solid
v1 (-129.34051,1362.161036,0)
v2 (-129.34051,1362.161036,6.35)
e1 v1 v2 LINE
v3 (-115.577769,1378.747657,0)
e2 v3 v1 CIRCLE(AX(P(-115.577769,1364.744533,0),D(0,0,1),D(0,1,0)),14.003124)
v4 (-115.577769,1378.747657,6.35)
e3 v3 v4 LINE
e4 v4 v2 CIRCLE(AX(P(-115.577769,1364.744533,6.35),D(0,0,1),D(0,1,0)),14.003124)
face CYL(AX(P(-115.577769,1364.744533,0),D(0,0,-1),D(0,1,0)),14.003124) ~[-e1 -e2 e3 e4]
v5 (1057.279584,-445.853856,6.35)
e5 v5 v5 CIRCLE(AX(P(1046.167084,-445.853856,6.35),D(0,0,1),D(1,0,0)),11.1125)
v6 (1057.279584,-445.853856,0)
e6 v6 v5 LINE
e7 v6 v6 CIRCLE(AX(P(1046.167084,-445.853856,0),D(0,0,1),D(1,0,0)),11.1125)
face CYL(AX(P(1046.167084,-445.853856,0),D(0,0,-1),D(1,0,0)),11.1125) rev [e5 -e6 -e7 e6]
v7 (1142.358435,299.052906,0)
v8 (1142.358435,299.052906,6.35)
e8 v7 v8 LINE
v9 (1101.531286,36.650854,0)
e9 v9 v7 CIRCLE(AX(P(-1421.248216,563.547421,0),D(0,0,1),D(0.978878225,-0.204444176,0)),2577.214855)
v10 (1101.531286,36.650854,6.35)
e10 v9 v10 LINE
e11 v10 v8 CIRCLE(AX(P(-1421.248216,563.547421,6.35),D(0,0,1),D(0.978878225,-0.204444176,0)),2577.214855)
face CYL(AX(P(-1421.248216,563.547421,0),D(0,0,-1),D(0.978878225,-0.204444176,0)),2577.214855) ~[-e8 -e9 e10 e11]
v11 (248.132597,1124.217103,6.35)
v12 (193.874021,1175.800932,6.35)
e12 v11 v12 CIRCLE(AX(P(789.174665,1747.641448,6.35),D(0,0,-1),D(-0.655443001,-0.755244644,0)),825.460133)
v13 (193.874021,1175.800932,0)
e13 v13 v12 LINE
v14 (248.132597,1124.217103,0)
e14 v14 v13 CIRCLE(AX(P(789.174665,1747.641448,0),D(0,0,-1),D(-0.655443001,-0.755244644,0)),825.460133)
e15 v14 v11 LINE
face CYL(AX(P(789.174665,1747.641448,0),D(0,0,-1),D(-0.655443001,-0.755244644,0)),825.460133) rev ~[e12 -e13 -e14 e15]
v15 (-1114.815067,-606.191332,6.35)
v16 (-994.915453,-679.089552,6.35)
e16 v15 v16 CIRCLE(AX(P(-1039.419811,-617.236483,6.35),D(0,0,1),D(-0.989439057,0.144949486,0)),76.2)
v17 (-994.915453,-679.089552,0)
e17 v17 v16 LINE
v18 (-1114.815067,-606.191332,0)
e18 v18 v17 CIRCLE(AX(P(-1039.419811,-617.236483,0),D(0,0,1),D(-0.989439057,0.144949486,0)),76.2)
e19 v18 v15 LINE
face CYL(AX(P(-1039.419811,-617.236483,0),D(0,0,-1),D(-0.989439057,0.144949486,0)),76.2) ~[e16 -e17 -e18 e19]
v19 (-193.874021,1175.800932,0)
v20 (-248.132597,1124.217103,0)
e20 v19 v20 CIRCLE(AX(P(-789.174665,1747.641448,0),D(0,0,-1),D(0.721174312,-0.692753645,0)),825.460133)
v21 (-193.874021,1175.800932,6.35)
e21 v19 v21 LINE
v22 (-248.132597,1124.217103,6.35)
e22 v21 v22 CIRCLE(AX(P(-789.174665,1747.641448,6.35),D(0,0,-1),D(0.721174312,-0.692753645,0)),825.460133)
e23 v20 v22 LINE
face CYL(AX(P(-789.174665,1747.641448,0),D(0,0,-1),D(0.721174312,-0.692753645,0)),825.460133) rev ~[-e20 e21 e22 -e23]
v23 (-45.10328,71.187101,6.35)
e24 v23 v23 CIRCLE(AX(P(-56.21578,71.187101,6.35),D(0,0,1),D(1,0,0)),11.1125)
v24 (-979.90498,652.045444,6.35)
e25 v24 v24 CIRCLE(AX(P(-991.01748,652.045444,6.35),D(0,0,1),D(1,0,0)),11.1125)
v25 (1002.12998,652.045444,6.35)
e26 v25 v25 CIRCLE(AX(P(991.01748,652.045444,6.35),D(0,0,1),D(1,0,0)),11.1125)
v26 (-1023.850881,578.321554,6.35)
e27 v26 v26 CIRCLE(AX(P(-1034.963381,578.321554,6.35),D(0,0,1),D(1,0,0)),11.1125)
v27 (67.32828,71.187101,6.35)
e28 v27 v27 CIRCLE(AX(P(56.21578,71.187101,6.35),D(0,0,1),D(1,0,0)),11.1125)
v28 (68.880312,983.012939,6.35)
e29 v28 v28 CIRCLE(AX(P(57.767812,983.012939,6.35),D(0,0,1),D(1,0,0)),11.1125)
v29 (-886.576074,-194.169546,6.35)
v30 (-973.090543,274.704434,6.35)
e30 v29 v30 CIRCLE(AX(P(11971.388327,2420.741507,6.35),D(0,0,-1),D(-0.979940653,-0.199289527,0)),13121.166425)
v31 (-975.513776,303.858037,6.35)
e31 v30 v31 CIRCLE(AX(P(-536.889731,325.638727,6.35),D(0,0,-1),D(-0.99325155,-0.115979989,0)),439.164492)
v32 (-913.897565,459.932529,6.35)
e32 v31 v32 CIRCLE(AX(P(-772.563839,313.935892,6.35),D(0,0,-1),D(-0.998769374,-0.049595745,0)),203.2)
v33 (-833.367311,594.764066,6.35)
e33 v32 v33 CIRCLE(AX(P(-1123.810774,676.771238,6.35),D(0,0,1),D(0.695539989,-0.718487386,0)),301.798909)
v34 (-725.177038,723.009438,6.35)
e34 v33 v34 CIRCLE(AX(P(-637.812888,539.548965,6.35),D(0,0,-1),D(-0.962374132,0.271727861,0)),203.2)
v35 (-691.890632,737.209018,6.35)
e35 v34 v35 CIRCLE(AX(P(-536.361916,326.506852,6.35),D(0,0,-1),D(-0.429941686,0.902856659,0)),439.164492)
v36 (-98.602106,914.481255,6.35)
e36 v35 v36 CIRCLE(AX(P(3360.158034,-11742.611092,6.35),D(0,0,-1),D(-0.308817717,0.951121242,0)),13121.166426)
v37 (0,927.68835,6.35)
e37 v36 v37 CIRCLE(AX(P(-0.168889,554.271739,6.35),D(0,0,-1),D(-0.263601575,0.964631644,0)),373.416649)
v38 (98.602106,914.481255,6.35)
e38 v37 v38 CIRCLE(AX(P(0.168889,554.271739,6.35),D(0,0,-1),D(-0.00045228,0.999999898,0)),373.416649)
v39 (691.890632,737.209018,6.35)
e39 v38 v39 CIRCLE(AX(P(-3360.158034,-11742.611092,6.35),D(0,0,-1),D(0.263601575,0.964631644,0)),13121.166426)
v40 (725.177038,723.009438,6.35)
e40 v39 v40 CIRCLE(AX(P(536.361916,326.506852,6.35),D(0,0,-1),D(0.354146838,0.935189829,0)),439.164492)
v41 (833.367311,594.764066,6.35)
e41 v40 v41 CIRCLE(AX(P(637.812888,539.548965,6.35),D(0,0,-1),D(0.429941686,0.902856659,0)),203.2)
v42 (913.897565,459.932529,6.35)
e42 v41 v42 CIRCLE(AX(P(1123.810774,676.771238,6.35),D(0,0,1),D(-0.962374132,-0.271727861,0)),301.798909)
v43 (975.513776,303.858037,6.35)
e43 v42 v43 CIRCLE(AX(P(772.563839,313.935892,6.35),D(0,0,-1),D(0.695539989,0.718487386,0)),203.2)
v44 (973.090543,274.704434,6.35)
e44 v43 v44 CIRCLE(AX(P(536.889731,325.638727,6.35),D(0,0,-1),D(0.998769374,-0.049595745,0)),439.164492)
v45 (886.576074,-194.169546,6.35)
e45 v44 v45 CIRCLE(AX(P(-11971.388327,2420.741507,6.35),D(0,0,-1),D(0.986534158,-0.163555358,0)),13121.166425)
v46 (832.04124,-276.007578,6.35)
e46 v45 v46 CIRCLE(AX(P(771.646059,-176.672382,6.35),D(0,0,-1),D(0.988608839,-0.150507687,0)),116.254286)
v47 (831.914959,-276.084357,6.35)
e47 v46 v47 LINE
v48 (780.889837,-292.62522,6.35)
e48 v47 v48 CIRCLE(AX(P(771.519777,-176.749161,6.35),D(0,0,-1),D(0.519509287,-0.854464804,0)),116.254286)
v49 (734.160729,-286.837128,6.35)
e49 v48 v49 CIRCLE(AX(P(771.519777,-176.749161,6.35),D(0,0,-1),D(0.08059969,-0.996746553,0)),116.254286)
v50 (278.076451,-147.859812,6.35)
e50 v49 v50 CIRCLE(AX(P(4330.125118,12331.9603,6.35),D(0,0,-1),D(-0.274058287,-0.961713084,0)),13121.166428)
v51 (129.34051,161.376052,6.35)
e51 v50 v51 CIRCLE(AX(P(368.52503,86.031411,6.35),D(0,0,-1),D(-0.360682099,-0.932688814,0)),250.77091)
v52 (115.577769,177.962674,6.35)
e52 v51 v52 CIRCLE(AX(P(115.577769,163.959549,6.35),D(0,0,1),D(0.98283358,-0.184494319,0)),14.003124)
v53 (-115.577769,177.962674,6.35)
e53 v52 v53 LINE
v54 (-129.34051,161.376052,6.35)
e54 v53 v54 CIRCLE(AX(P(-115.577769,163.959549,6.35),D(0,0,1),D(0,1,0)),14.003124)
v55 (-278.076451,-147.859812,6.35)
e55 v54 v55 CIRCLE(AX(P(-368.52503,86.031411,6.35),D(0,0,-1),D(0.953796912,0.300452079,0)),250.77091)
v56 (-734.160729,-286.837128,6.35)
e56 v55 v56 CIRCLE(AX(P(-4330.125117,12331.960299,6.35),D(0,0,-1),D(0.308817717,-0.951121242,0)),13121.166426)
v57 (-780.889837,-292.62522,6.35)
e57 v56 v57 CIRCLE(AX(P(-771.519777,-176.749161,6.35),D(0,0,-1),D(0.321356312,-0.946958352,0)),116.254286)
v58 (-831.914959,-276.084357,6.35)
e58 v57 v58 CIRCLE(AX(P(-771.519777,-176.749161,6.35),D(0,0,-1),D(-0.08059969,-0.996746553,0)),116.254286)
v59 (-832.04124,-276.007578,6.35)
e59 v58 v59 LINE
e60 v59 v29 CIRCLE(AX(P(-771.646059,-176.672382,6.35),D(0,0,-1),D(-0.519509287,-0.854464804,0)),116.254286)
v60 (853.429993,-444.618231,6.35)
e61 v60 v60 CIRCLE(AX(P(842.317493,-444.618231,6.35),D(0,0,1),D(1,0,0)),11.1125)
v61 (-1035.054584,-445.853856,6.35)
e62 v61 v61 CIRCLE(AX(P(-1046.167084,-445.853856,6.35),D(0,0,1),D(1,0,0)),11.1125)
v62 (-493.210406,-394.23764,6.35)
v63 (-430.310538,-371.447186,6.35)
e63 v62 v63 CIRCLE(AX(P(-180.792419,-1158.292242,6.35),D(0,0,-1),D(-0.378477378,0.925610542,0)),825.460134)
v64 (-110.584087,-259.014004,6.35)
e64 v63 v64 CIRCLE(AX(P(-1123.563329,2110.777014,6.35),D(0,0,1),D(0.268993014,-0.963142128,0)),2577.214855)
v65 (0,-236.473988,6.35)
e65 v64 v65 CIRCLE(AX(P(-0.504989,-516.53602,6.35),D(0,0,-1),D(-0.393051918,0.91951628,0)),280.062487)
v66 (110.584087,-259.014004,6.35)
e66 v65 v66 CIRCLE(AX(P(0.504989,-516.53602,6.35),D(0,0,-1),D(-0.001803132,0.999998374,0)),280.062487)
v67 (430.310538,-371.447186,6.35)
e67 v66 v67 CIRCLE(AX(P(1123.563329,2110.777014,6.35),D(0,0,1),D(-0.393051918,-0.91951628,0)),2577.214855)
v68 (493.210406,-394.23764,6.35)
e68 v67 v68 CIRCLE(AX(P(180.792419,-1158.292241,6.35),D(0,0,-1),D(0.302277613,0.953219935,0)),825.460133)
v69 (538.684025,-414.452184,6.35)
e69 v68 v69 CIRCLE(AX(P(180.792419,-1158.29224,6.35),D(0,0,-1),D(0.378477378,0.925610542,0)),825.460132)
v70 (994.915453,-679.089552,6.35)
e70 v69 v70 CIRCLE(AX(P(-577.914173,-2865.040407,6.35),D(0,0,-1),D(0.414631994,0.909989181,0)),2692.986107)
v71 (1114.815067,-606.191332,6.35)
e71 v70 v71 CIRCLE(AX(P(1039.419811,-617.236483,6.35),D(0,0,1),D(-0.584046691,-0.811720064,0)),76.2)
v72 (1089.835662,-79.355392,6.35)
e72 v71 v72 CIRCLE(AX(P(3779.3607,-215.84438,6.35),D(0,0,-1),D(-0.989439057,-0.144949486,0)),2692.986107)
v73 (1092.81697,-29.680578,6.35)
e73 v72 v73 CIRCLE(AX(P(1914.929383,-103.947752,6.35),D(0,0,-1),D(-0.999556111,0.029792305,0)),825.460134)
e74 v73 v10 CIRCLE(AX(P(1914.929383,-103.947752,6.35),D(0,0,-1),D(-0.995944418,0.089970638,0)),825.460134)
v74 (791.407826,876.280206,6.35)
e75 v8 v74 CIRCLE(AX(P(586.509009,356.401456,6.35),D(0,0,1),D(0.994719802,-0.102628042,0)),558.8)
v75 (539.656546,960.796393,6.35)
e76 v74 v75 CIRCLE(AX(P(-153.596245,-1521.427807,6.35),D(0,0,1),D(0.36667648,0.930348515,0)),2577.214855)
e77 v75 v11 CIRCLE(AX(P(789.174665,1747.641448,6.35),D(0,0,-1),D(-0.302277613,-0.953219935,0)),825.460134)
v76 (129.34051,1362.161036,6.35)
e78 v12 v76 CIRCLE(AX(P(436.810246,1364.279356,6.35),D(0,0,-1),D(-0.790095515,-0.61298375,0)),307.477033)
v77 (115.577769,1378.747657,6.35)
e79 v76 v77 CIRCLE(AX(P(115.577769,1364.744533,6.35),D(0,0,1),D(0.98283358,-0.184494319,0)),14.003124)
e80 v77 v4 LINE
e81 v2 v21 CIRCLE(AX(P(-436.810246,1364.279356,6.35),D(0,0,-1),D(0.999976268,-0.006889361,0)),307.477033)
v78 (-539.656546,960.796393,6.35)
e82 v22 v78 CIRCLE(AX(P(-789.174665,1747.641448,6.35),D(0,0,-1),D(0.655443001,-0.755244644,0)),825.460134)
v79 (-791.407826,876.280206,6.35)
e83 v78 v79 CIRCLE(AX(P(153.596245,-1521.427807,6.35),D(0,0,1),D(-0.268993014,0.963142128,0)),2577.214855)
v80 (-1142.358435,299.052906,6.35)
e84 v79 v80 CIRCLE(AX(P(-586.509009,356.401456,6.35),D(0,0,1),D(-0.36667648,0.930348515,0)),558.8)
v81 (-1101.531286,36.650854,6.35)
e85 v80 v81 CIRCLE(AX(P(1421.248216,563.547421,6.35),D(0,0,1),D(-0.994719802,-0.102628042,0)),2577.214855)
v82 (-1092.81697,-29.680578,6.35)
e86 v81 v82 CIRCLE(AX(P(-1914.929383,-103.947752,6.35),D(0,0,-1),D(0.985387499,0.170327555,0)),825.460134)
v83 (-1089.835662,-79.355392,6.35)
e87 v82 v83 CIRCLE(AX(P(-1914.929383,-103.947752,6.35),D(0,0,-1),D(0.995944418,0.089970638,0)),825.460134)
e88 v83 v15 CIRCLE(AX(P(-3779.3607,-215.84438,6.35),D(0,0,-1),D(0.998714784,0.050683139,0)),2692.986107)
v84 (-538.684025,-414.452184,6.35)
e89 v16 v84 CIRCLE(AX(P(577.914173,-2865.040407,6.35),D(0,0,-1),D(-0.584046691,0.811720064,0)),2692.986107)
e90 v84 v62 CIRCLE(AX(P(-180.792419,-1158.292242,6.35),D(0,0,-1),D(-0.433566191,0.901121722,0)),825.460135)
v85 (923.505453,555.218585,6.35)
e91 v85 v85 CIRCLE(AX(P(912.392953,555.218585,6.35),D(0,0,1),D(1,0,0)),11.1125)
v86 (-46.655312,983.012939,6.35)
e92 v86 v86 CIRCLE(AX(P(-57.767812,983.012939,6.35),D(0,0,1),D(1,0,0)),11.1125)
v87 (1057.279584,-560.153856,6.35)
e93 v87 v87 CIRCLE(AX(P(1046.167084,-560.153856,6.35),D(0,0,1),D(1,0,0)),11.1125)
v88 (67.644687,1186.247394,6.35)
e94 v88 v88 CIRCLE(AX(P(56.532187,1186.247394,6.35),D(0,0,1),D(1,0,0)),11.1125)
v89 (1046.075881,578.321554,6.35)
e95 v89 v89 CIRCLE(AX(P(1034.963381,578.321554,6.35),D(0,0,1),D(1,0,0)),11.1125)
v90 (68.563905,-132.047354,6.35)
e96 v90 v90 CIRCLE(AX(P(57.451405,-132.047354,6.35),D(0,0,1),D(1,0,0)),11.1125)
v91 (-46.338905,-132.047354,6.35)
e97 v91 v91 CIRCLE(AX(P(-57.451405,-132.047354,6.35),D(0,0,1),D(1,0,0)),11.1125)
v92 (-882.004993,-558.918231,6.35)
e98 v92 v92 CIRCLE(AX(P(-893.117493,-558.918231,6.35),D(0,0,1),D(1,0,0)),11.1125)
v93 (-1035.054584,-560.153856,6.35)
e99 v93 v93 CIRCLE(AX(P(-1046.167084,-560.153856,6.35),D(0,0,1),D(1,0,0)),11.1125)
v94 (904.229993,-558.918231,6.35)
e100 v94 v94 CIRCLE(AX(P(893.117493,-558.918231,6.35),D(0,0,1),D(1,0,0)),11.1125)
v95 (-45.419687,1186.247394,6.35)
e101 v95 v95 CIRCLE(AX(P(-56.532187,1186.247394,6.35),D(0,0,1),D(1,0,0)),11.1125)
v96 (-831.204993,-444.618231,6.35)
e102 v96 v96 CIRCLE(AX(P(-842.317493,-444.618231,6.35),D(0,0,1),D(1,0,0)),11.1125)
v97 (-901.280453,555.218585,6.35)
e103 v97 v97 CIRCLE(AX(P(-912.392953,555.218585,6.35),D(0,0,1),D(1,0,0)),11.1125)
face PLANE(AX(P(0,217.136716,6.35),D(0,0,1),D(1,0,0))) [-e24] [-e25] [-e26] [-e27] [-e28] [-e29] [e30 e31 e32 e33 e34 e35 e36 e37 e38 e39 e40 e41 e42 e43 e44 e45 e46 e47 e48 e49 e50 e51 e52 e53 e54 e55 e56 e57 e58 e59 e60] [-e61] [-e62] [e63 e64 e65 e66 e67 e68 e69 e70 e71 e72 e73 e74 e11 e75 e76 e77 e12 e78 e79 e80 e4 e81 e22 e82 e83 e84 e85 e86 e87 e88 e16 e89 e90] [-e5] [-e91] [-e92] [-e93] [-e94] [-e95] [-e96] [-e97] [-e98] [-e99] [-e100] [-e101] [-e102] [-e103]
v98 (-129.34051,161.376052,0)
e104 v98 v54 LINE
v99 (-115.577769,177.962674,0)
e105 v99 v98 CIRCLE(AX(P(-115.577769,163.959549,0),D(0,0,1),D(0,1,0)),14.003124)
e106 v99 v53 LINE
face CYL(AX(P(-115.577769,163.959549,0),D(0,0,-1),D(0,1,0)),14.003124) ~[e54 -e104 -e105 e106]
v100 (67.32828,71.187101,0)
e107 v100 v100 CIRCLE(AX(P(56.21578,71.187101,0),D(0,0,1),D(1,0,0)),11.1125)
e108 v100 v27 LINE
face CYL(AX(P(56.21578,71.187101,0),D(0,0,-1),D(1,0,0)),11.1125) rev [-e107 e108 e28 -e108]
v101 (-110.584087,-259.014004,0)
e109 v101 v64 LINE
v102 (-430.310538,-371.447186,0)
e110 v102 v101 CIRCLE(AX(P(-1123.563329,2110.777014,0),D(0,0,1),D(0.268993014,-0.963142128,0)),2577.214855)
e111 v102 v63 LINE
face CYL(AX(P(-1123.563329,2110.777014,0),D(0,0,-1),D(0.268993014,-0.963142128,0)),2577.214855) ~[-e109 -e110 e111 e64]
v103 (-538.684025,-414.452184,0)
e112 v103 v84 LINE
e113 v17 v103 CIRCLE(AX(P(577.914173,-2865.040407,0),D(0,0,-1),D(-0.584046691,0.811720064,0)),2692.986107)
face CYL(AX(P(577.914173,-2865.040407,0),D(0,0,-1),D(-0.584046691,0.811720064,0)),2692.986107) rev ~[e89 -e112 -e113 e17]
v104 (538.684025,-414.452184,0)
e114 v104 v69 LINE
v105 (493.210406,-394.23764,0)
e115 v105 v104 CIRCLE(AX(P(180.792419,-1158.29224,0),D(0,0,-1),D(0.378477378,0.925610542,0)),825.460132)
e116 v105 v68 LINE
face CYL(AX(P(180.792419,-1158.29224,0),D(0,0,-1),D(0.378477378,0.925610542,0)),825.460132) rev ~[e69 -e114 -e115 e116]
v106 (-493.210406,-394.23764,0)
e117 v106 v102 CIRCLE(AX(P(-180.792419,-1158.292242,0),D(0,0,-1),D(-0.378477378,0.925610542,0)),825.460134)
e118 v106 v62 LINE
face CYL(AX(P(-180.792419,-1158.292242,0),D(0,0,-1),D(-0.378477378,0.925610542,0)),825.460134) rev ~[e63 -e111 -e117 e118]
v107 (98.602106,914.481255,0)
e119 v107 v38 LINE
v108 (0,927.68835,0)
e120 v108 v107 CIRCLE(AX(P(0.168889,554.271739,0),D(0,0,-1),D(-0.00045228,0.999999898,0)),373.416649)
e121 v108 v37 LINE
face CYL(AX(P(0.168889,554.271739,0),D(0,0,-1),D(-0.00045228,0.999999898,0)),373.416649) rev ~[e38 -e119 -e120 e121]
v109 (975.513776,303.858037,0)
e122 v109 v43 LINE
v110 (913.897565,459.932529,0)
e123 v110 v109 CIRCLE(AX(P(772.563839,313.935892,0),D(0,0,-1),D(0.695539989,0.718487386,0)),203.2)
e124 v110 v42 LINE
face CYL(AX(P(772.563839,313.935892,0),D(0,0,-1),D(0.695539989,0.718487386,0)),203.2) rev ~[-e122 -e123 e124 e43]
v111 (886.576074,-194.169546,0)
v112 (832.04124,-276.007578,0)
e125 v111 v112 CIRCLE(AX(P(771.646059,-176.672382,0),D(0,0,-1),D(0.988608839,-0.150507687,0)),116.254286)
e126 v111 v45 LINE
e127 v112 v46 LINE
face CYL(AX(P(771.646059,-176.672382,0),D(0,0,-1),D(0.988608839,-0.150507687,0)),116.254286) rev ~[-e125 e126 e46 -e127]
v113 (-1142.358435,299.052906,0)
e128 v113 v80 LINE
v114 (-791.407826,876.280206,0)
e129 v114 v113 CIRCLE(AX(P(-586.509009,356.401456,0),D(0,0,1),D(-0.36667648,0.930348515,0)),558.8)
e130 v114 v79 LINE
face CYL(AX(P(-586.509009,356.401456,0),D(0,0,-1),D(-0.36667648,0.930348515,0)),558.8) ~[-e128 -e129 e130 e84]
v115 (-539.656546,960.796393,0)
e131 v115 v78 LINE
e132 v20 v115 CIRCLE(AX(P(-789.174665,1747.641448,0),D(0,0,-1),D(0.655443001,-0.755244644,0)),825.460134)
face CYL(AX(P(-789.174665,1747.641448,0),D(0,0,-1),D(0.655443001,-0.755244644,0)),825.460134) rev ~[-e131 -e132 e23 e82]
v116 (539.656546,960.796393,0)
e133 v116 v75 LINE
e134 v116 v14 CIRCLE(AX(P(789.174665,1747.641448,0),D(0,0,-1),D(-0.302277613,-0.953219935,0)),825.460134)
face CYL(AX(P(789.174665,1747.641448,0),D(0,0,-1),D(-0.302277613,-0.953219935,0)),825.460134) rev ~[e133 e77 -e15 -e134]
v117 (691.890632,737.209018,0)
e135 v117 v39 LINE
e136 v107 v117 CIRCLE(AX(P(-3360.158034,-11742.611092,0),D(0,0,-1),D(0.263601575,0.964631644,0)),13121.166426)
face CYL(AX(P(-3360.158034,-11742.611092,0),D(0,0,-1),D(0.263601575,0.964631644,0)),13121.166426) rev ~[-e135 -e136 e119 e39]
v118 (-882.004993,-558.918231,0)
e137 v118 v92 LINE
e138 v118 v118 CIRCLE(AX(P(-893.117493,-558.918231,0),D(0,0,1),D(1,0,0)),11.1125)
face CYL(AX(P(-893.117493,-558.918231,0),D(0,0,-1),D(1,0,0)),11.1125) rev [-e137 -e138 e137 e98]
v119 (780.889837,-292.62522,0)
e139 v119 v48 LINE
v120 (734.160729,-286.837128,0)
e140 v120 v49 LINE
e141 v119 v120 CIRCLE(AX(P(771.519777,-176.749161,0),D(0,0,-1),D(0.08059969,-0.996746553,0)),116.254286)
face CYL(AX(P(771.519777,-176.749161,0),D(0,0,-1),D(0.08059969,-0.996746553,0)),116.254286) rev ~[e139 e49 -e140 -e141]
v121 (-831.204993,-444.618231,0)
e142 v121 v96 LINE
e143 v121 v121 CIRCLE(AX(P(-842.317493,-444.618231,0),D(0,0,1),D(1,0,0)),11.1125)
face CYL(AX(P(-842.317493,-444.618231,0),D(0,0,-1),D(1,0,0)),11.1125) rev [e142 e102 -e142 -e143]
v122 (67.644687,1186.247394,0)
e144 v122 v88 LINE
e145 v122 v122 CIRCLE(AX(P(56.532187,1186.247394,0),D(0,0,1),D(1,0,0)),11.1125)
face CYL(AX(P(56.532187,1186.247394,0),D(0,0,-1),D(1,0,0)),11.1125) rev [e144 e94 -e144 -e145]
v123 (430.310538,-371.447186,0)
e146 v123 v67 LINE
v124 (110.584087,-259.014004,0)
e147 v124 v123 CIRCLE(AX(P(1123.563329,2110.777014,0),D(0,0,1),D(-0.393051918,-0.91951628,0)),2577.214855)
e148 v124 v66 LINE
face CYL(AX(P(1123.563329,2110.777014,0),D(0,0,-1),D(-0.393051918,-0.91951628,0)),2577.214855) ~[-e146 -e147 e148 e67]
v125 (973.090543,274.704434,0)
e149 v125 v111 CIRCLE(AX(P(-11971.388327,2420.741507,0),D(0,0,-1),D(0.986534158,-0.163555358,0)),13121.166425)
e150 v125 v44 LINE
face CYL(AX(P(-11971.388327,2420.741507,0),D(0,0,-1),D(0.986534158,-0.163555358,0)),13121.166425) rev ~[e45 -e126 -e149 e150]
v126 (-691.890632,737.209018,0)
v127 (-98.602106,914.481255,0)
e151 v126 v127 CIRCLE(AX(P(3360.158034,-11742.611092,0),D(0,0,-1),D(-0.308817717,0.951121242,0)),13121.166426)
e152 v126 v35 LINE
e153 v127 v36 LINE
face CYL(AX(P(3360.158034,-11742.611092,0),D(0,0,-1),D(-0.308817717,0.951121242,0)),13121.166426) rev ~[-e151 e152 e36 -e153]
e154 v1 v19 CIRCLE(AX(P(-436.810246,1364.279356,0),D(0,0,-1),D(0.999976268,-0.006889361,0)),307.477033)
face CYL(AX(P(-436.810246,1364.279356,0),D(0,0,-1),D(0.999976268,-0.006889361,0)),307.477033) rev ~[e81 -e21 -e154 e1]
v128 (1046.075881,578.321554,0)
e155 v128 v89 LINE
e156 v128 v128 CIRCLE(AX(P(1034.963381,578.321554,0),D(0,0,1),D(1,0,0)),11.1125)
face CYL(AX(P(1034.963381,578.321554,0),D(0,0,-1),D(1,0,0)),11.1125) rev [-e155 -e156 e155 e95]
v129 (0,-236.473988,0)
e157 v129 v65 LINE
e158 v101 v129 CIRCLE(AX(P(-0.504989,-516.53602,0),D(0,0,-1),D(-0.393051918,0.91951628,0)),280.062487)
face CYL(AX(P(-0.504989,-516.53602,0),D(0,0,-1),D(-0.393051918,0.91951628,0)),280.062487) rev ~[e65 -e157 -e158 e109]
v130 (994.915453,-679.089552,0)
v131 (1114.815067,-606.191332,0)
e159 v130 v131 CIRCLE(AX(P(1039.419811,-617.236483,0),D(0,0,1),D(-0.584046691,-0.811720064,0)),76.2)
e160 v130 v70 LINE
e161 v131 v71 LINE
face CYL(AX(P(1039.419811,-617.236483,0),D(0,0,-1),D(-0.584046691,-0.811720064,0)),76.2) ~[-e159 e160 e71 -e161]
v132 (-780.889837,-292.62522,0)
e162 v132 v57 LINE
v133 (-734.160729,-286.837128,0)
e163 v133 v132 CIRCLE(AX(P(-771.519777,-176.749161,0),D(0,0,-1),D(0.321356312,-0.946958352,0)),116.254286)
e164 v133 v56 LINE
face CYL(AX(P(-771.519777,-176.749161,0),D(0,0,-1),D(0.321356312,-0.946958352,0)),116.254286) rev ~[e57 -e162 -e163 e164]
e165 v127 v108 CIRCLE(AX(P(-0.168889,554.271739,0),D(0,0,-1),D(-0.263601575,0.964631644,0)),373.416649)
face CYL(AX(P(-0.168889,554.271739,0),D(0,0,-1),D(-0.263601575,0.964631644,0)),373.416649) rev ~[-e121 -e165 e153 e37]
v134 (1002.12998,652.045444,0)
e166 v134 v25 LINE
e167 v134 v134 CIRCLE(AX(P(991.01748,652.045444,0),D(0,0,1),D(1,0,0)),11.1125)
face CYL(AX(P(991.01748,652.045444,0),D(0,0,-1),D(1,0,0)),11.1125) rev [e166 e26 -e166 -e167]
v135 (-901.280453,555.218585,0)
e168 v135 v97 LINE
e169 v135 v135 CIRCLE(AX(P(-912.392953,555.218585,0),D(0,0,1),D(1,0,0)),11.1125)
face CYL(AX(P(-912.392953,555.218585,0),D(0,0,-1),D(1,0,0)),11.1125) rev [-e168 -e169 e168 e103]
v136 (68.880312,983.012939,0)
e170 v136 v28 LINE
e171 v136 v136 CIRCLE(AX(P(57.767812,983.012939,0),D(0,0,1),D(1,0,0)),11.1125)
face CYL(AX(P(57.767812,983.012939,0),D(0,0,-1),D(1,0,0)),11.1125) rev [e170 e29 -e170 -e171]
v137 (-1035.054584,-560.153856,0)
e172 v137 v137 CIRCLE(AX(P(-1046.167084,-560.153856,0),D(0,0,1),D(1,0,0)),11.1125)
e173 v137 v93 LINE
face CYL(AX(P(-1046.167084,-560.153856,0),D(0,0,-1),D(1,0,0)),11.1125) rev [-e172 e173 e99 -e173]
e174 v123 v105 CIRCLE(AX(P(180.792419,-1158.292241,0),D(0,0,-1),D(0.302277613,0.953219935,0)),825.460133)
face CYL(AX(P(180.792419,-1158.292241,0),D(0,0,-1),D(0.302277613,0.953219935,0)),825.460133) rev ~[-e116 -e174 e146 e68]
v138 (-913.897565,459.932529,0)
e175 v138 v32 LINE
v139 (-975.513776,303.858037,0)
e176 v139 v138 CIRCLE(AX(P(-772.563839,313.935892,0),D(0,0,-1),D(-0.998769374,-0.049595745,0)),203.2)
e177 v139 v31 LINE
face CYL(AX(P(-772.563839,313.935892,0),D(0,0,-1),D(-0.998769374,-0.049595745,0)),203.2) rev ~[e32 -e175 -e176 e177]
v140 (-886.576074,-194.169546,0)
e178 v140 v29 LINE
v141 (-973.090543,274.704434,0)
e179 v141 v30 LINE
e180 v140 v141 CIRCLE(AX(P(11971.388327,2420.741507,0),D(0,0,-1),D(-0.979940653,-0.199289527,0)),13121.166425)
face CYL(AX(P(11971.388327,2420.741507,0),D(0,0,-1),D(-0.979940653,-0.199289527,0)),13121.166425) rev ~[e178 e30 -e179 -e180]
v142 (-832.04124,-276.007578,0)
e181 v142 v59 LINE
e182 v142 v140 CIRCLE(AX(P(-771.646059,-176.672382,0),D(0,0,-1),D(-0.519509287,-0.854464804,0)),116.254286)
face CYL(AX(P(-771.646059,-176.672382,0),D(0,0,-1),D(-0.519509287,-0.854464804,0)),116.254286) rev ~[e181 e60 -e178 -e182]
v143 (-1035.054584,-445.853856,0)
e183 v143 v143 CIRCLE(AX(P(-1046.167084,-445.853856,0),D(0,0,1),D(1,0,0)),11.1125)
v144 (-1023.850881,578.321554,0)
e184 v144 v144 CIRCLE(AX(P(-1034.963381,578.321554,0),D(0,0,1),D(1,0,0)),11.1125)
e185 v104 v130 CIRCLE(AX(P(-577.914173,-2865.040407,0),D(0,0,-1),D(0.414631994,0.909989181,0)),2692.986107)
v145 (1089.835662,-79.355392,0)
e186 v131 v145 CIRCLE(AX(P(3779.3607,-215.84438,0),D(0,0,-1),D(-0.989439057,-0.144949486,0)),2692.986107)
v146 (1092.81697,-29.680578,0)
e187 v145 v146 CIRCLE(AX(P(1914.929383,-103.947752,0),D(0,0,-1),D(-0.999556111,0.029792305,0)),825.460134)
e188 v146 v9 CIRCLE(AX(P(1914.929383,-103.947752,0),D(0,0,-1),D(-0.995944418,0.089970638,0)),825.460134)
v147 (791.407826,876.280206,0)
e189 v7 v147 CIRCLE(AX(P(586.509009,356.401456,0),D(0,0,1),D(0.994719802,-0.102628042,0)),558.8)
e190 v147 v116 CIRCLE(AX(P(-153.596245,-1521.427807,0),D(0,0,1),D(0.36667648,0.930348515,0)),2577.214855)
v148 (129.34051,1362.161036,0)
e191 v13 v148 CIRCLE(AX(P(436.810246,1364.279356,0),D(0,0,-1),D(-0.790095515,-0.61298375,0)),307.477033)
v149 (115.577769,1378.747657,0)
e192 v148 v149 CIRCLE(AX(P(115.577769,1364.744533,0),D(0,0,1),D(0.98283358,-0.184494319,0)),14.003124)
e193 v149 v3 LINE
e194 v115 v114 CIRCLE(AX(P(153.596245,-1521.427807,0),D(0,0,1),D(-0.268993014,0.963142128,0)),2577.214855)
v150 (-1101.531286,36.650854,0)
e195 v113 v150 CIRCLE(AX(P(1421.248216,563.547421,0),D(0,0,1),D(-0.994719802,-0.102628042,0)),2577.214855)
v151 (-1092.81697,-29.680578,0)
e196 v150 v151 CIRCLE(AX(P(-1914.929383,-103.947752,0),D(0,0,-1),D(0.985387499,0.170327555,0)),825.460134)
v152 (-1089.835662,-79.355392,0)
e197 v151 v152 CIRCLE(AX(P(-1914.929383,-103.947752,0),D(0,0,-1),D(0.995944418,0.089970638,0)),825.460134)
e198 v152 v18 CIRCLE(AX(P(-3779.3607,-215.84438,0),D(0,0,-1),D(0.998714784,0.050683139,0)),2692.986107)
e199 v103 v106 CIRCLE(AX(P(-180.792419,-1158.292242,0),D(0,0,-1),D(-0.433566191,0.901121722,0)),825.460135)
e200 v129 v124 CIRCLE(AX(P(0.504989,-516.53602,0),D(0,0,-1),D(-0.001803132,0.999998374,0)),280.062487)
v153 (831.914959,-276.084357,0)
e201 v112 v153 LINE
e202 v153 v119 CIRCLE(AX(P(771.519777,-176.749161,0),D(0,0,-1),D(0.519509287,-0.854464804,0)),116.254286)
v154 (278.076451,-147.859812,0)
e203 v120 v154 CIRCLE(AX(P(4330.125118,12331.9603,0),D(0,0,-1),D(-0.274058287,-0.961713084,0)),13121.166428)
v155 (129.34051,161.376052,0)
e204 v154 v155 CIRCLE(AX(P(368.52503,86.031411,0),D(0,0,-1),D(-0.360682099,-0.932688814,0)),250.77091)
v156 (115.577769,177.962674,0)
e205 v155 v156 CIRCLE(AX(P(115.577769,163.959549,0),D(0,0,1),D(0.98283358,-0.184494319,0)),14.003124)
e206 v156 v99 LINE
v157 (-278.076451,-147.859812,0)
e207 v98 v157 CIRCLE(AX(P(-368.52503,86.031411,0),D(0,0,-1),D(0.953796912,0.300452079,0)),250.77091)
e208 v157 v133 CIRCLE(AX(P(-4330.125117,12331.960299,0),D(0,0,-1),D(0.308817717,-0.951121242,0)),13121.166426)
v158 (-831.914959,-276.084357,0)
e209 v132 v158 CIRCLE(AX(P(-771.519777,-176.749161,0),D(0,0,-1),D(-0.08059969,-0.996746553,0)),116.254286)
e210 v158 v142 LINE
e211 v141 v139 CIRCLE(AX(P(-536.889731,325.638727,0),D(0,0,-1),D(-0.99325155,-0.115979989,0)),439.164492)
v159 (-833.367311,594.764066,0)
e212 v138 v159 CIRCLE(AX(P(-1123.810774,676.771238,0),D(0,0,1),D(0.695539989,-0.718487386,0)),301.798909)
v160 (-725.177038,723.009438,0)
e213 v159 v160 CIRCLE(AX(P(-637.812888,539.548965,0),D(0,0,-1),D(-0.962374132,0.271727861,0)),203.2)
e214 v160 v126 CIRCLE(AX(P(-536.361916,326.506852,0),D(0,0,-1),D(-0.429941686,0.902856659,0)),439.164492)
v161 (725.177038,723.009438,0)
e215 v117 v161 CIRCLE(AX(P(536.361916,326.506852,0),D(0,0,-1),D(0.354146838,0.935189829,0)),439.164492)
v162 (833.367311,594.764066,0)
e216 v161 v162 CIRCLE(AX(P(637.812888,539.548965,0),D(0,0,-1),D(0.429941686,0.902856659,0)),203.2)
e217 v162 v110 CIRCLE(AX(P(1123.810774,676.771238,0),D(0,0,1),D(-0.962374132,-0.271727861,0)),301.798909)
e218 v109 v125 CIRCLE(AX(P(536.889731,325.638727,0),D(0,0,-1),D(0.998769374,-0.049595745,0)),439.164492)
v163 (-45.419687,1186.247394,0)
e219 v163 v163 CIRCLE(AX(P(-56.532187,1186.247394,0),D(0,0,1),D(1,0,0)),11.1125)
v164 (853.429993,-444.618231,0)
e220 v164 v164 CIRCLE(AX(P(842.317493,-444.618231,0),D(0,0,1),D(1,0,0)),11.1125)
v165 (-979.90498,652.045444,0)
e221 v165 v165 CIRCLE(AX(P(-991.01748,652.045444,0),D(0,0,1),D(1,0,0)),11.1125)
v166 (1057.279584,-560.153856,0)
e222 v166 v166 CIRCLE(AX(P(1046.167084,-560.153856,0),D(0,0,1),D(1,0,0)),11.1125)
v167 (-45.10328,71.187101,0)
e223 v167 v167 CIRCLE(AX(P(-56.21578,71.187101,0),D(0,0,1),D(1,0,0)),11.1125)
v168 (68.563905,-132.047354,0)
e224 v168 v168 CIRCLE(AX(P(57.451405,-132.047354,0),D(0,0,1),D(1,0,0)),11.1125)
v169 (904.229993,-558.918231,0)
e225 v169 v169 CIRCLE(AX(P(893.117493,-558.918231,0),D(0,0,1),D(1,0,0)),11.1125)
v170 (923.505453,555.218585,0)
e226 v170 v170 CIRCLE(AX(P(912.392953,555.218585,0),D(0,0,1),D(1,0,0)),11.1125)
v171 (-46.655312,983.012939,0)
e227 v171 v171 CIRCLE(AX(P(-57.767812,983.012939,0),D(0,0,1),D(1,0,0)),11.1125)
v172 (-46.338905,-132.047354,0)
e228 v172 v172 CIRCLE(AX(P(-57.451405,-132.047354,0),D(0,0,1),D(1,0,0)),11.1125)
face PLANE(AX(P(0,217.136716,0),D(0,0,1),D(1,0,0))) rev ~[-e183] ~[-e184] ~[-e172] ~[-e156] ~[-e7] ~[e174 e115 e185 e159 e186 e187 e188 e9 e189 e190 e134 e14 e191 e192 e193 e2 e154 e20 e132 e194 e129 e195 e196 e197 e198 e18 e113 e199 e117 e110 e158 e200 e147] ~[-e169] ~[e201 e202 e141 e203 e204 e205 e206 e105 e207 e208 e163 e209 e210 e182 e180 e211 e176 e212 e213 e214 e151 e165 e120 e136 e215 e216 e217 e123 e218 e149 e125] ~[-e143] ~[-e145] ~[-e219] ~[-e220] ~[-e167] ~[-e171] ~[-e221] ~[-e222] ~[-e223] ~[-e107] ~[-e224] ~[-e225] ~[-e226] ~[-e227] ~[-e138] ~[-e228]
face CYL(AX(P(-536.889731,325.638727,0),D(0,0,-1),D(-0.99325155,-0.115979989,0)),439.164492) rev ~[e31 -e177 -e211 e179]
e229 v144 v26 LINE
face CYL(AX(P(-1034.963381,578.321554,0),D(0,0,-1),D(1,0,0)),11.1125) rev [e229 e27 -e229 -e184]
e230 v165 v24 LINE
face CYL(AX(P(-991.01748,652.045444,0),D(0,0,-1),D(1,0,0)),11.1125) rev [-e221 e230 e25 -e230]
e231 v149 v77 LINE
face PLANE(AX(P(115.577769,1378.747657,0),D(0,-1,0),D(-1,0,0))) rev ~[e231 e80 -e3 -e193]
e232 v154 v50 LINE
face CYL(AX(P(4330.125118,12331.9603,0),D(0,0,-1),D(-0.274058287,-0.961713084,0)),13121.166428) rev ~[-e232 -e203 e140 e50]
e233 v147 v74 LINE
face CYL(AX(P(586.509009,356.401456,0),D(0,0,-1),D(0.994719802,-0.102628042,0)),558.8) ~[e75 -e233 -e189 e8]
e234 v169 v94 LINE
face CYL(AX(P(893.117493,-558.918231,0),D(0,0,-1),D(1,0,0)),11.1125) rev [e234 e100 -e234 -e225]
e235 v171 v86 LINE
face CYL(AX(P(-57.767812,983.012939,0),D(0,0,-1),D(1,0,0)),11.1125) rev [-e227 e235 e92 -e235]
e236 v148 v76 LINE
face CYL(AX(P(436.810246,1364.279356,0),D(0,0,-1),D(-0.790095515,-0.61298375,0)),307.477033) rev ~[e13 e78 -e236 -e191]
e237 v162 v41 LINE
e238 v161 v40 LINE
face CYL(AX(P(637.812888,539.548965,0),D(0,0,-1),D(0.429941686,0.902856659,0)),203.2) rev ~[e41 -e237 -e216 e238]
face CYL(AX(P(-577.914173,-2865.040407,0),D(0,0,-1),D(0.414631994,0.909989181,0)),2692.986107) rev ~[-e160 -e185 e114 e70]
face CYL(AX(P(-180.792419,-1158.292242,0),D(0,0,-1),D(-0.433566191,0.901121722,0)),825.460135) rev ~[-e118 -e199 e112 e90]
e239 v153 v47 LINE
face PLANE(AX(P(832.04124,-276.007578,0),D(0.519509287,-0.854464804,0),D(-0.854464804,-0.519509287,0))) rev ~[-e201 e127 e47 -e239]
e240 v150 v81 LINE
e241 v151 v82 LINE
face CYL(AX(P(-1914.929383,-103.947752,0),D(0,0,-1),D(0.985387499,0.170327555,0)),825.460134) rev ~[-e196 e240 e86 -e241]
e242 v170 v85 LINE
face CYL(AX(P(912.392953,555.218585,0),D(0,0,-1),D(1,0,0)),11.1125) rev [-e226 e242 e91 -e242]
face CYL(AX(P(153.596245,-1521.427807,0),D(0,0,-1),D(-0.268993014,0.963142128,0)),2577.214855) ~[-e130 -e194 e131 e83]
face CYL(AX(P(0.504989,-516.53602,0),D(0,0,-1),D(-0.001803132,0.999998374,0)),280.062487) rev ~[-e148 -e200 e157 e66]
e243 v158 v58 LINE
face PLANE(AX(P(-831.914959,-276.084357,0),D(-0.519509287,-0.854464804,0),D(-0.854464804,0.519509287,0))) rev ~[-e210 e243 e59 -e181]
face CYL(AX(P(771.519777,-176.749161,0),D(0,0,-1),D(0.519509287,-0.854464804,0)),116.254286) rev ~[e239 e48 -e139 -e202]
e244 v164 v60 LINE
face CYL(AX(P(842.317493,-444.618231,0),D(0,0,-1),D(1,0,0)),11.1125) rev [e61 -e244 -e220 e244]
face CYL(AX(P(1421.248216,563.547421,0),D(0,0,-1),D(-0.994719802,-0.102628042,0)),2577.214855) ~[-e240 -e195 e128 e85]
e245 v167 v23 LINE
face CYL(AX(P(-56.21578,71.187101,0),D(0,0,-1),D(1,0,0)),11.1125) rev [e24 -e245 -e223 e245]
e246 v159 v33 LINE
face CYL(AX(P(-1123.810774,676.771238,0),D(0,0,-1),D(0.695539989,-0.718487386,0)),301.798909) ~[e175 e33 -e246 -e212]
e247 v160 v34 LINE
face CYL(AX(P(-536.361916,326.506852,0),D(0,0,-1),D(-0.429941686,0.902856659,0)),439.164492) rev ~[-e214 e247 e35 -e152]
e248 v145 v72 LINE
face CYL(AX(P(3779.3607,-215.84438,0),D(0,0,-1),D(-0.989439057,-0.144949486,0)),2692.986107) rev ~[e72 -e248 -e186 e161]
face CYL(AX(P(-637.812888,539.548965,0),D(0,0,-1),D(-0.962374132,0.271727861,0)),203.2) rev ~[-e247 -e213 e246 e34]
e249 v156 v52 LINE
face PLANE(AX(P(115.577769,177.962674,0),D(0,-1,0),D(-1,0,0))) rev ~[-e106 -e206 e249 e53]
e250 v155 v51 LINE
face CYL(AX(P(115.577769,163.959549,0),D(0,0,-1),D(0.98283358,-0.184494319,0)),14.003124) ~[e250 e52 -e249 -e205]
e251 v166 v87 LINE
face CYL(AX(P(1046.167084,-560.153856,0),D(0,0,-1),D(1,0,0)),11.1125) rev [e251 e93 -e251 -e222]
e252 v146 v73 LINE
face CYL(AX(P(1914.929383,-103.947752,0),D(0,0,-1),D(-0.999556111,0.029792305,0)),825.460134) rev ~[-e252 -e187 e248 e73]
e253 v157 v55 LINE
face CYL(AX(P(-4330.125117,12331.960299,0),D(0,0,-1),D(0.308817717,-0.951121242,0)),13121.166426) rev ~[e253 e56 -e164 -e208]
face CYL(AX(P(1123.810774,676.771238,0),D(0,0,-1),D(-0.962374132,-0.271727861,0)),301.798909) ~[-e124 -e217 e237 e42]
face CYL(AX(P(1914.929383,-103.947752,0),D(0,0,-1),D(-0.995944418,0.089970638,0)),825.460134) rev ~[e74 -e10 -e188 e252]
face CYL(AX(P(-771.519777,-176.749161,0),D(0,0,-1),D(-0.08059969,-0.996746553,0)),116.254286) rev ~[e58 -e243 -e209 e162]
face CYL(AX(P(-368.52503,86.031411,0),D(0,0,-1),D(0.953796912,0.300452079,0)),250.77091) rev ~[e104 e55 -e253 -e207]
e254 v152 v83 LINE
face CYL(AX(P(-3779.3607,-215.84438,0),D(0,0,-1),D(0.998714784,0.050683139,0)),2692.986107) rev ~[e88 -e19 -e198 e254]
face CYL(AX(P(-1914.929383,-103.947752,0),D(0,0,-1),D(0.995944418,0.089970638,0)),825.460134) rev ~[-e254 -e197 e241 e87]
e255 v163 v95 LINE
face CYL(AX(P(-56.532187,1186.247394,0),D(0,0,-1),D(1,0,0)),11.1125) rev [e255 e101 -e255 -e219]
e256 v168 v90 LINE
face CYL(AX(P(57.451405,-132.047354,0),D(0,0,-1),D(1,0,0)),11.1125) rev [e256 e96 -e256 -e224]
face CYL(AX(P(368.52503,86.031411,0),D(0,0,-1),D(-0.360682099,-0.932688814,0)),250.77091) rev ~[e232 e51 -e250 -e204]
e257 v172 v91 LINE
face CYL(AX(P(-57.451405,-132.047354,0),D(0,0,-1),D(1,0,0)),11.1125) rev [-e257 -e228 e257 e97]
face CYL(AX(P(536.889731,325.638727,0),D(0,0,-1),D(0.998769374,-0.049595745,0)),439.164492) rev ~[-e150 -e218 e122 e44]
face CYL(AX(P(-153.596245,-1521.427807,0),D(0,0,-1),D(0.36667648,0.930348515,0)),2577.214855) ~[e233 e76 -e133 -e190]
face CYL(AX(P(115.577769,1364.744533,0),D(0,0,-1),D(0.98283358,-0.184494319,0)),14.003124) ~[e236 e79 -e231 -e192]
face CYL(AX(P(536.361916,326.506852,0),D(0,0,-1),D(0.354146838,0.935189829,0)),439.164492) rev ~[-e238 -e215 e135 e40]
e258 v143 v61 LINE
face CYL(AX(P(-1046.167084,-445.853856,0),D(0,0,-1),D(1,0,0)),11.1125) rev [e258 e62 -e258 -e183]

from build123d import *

# Parameters (mm, degrees)
MODEL_R             = 11.1125
BOSS_EXTRUDE1_DEPTH = 6.35


with BuildPart() as part:
    # Model → Boss-Extrude1 (new body)
    with BuildSketch(Plane.XY):
        with BuildLine():
            Line((0, 1378.747657242), (-115.577769156, 1378.747657242))
            ThreePointArc((-115.577769156, 1378.747657242), (-126.354237016, 1373.686301835), (-129.340509975, 1362.161036029))
            ThreePointArc((-129.340509975, 1362.161036029), (-146.260418002, 1263.666616997), (-193.874021232, 1175.800931685))
            ThreePointArc((-193.874021232, 1175.800931685), (-220.418203668, 1149.393572736), (-248.132597313, 1124.217103311))
            ThreePointArc((-248.132597313, 1124.217103311), (-385.537532949, 1027.598742212), (-539.656545931, 960.796392886))
            ThreePointArc((-539.656545931, 960.796392886), (-666.621490092, 921.783047123), (-791.407826106, 876.280206141))
            ThreePointArc((-791.407826106, 876.280206141), (-1063.983941582, 646.703245394), (-1142.358434641, 299.052906014))
            ThreePointArc((-1142.358434641, 299.052906014), (-1125.326882546, 167.325671067), (-1101.531285955, 36.65085415))
            ThreePointArc((-1101.531285955, 36.65085415), (-1096.501853159, 3.57345863), (-1092.816970275, -29.680577618))
            ThreePointArc((-1092.816970275, -29.680577618), (-1090.951890328, -54.49551316), (-1089.83566214, -79.355392158))
            ThreePointArc((-1089.83566214, -79.355392158), (-1089.396534052, -343.386369753), (-1114.815066971, -606.191331934))
            ThreePointArc((-1114.815066971, -606.191331934), (-1079.006418537, -682.346700796), (-994.915452979, -679.089551631))
            ThreePointArc((-994.915452979, -679.089551631), (-773.294078723, -535.574709695), (-538.684025262, -414.452184132))
            ThreePointArc((-538.684025262, -414.452184133), (-516.099583467, -404.002152581), (-493.210405664, -394.237639785))
            ThreePointArc((-493.210405664, -394.237639785), (-461.991455066, -382.204917214), (-430.310537922, -371.447186142))
            ThreePointArc((-430.310537922, -371.447186142), (-268.597105794, -320.492031035), (-110.58408698, -259.014003675))
            ThreePointArc((-110.58408698, -259.014003675), (-56.439186179, -242.1159729), (0, -236.473988301))
            ThreePointArc((0, -236.473988301), (56.43918618, -242.1159729), (110.58408698, -259.014003675))
            ThreePointArc((110.58408698, -259.014003675), (268.597105792, -320.492031034), (430.310537918, -371.447186141))
            ThreePointArc((430.310537918, -371.447186141), (461.991455064, -382.204917213), (493.210405664, -394.237639786))
            ThreePointArc((493.210405664, -394.237639786), (516.099583466, -404.00215258), (538.68402526, -414.452184132))
            ThreePointArc((538.68402526, -414.452184132), (773.294078724, -535.574709696), (994.915452984, -679.089551635))
            ThreePointArc((994.915452984, -679.089551635), (1079.00641854, -682.346700795), (1114.815066971, -606.191331934))
            ThreePointArc((1114.815066971, -606.191331934), (1089.396534052, -343.386369752), (1089.83566214, -79.355392158))
            ThreePointArc((1089.83566214, -79.355392158), (1090.951890328, -54.49551316), (1092.816970275, -29.680577618))
            ThreePointArc((1092.816970275, -29.680577618), (1096.501853159, 3.57345863), (1101.531285955, 36.65085415))
            ThreePointArc((1101.531285955, 36.65085415), (1125.326882546, 167.325671068), (1142.358434641, 299.052906016))
            ThreePointArc((1142.358434641, 299.052906016), (1063.983941581, 646.703245395), (791.407826106, 876.280206141))
            ThreePointArc((791.407826106, 876.280206141), (666.621490092, 921.783047123), (539.656545931, 960.796392886))
            ThreePointArc((539.656545931, 960.796392886), (385.537532949, 1027.598742212), (248.132597313, 1124.217103311))
            ThreePointArc((248.132597313, 1124.217103311), (220.418203668, 1149.393572736), (193.874021232, 1175.800931685))
            ThreePointArc((193.874021232, 1175.800931685), (146.260418002, 1263.666616998), (129.340509975, 1362.161036029))
            ThreePointArc((129.340509975, 1362.161036029), (126.354237016, 1373.686301835), (115.577769156, 1378.747657242))
            Line((115.577769156, 1378.747657242), (0, 1378.747657242))
        make_face()
        with Locations((-1046.167083964, -560.153855558)):
            Circle(MODEL_R, mode=Mode.SUBTRACT)
        with Locations((-1046.167083964, -445.853855558)):
            Circle(MODEL_R, mode=Mode.SUBTRACT)
        with Locations((-893.117492798, -558.918230591)):
            Circle(MODEL_R, mode=Mode.SUBTRACT)
        with Locations((-842.317492798, -444.618230591)):
            Circle(MODEL_R, mode=Mode.SUBTRACT)
        with Locations((-57.451404862, -132.047353673)):
            Circle(MODEL_R, mode=Mode.SUBTRACT)
        with Locations((-56.215779894, 71.187101166)):
            Circle(MODEL_R, mode=Mode.SUBTRACT)
        with BuildLine():
            Line((-831.914958661, -276.08435652), (-832.041240206, -276.007578126))
            ThreePointArc((-832.041240206, -276.007578126), (-868.388484856, -241.139134025), (-886.576073785, -194.169546028))
            ThreePointArc((-886.576073785, -194.169546028), (-931.96319087, 39.874447812), (-973.090543462, 274.704433799))
            ThreePointArc((-973.090543462, 274.704433799), (-974.544978645, 289.261052289), (-975.513775637, 303.85803677))
            ThreePointArc((-975.513775637, 303.85803677), (-961.568129404, 388.552365855), (-913.897564598, 459.932528919))
            ThreePointArc((-913.897564598, 459.932528919), (-864.708312264, 522.01822335), (-833.367311336, 594.764066249))
            ThreePointArc((-833.367311336, 594.764066249), (-793.126920462, 670.574883137), (-725.17703841, 723.009438004))
            ThreePointArc((-725.17703841, 723.009438004), (-708.680158975, 730.452237286), (-691.890632454, 737.209018431))
            ThreePointArc((-691.890632454, 737.209018431), (-396.292230767, 829.345390272), (-98.602105581, 914.481254998))
            ThreePointArc((-98.602105581, 914.481254998), (-49.742837355, 924.383096854), (0, 927.688349599))
            ThreePointArc((0, 927.688349599), (49.742837355, 924.383096854), (98.602105581, 914.481254998))
            ThreePointArc((98.602105581, 914.481254998), (396.292230767, 829.345390272), (691.890632454, 737.209018431))
            ThreePointArc((691.890632454, 737.209018431), (708.680158975, 730.452237286), (725.17703841, 723.009438004))
            ThreePointArc((725.17703841, 723.009438004), (793.126920462, 670.574883137), (833.367311336, 594.764066249))
            ThreePointArc((833.367311336, 594.764066249), (864.708312263, 522.01822335), (913.897564598, 459.932528919))
            ThreePointArc((913.897564598, 459.932528919), (961.568129404, 388.552365855), (975.513775637, 303.85803677))
            ThreePointArc((975.513775637, 303.85803677), (974.544978645, 289.261052289), (973.090543462, 274.704433799))
            ThreePointArc((973.090543462, 274.704433799), (931.96319087, 39.874447812), (886.576073785, -194.169546028))
            ThreePointArc((886.576073785, -194.169546028), (868.388484856, -241.139134025), (832.041240206, -276.007578126))
            Line((832.041240206, -276.007578126), (831.914958661, -276.08435652))
            ThreePointArc((831.914958661, -276.08435652), (807.369425083, -287.337866314), (780.889836792, -292.625219642))
            ThreePointArc((780.889836792, -292.625219642), (757.229172716, -292.121764326), (734.160728686, -286.837127934))
            ThreePointArc((734.160728686, -286.837127934), (505.487279004, -219.420254227), (278.076451396, -147.859811686))
            ThreePointArc((278.076451396, -147.859811686), (142.535649994, -22.664723546), (129.340509975, 161.376052422))
            ThreePointArc((129.340509975, 161.376052422), (126.354237016, 172.901318228), (115.577769156, 177.962673635))
            Line((115.577769156, 177.962673635), (0, 177.962673635))
            Line((0, 177.962673635), (-115.577769156, 177.962673635))
            ThreePointArc((-115.577769156, 177.962673635), (-126.354237016, 172.901318228), (-129.340509975, 161.376052422))
            ThreePointArc((-129.340509975, 161.376052422), (-142.535649994, -22.664723546), (-278.076451396, -147.859811686))
            ThreePointArc((-278.076451396, -147.859811686), (-505.487279003, -219.420254227), (-734.160728686, -286.837127934))
            ThreePointArc((-734.160728686, -286.837127934), (-757.229172716, -292.121764326), (-780.889836793, -292.625219642))
            ThreePointArc((-780.889836793, -292.625219642), (-807.369425084, -287.337866314), (-831.914958661, -276.08435652))
        make_face(mode=Mode.SUBTRACT)
        with Locations((842.317492798, -444.618230591)):
            Circle(MODEL_R, mode=Mode.SUBTRACT)
        with Locations((893.117492798, -558.918230591)):
            Circle(MODEL_R, mode=Mode.SUBTRACT)
        with Locations((1046.167083964, -560.153855558)):
            Circle(MODEL_R, mode=Mode.SUBTRACT)
        with Locations((1046.167083964, -445.853855558)):
            Circle(MODEL_R, mode=Mode.SUBTRACT)
        with Locations((57.451404862, -132.047353673)):
            Circle(MODEL_R, mode=Mode.SUBTRACT)
        with Locations((56.215779894, 71.187101166)):
            Circle(MODEL_R, mode=Mode.SUBTRACT)
        with Locations((-1034.963380784, 578.321554013)):
            Circle(MODEL_R, mode=Mode.SUBTRACT)
        with Locations((-912.39295322, 555.218585095)):
            Circle(MODEL_R, mode=Mode.SUBTRACT)
        with Locations((-991.017480219, 652.045444179)):
            Circle(MODEL_R, mode=Mode.SUBTRACT)
        with Locations((-57.767812369, 983.012939426)):
            Circle(MODEL_R, mode=Mode.SUBTRACT)
        with Locations((-56.532187402, 1186.247394265)):
            Circle(MODEL_R, mode=Mode.SUBTRACT)
        with Locations((912.39295322, 555.218585095)):
            Circle(MODEL_R, mode=Mode.SUBTRACT)
        with Locations((1034.963380784, 578.321554013)):
            Circle(MODEL_R, mode=Mode.SUBTRACT)
        with Locations((991.017480219, 652.045444179)):
            Circle(MODEL_R, mode=Mode.SUBTRACT)
        with Locations((57.767812369, 983.012939426)):
            Circle(MODEL_R, mode=Mode.SUBTRACT)
        with Locations((56.532187402, 1186.247394265)):
            Circle(MODEL_R, mode=Mode.SUBTRACT)
    extrude(amount=BOSS_EXTRUDE1_DEPTH)


solid = part.part
